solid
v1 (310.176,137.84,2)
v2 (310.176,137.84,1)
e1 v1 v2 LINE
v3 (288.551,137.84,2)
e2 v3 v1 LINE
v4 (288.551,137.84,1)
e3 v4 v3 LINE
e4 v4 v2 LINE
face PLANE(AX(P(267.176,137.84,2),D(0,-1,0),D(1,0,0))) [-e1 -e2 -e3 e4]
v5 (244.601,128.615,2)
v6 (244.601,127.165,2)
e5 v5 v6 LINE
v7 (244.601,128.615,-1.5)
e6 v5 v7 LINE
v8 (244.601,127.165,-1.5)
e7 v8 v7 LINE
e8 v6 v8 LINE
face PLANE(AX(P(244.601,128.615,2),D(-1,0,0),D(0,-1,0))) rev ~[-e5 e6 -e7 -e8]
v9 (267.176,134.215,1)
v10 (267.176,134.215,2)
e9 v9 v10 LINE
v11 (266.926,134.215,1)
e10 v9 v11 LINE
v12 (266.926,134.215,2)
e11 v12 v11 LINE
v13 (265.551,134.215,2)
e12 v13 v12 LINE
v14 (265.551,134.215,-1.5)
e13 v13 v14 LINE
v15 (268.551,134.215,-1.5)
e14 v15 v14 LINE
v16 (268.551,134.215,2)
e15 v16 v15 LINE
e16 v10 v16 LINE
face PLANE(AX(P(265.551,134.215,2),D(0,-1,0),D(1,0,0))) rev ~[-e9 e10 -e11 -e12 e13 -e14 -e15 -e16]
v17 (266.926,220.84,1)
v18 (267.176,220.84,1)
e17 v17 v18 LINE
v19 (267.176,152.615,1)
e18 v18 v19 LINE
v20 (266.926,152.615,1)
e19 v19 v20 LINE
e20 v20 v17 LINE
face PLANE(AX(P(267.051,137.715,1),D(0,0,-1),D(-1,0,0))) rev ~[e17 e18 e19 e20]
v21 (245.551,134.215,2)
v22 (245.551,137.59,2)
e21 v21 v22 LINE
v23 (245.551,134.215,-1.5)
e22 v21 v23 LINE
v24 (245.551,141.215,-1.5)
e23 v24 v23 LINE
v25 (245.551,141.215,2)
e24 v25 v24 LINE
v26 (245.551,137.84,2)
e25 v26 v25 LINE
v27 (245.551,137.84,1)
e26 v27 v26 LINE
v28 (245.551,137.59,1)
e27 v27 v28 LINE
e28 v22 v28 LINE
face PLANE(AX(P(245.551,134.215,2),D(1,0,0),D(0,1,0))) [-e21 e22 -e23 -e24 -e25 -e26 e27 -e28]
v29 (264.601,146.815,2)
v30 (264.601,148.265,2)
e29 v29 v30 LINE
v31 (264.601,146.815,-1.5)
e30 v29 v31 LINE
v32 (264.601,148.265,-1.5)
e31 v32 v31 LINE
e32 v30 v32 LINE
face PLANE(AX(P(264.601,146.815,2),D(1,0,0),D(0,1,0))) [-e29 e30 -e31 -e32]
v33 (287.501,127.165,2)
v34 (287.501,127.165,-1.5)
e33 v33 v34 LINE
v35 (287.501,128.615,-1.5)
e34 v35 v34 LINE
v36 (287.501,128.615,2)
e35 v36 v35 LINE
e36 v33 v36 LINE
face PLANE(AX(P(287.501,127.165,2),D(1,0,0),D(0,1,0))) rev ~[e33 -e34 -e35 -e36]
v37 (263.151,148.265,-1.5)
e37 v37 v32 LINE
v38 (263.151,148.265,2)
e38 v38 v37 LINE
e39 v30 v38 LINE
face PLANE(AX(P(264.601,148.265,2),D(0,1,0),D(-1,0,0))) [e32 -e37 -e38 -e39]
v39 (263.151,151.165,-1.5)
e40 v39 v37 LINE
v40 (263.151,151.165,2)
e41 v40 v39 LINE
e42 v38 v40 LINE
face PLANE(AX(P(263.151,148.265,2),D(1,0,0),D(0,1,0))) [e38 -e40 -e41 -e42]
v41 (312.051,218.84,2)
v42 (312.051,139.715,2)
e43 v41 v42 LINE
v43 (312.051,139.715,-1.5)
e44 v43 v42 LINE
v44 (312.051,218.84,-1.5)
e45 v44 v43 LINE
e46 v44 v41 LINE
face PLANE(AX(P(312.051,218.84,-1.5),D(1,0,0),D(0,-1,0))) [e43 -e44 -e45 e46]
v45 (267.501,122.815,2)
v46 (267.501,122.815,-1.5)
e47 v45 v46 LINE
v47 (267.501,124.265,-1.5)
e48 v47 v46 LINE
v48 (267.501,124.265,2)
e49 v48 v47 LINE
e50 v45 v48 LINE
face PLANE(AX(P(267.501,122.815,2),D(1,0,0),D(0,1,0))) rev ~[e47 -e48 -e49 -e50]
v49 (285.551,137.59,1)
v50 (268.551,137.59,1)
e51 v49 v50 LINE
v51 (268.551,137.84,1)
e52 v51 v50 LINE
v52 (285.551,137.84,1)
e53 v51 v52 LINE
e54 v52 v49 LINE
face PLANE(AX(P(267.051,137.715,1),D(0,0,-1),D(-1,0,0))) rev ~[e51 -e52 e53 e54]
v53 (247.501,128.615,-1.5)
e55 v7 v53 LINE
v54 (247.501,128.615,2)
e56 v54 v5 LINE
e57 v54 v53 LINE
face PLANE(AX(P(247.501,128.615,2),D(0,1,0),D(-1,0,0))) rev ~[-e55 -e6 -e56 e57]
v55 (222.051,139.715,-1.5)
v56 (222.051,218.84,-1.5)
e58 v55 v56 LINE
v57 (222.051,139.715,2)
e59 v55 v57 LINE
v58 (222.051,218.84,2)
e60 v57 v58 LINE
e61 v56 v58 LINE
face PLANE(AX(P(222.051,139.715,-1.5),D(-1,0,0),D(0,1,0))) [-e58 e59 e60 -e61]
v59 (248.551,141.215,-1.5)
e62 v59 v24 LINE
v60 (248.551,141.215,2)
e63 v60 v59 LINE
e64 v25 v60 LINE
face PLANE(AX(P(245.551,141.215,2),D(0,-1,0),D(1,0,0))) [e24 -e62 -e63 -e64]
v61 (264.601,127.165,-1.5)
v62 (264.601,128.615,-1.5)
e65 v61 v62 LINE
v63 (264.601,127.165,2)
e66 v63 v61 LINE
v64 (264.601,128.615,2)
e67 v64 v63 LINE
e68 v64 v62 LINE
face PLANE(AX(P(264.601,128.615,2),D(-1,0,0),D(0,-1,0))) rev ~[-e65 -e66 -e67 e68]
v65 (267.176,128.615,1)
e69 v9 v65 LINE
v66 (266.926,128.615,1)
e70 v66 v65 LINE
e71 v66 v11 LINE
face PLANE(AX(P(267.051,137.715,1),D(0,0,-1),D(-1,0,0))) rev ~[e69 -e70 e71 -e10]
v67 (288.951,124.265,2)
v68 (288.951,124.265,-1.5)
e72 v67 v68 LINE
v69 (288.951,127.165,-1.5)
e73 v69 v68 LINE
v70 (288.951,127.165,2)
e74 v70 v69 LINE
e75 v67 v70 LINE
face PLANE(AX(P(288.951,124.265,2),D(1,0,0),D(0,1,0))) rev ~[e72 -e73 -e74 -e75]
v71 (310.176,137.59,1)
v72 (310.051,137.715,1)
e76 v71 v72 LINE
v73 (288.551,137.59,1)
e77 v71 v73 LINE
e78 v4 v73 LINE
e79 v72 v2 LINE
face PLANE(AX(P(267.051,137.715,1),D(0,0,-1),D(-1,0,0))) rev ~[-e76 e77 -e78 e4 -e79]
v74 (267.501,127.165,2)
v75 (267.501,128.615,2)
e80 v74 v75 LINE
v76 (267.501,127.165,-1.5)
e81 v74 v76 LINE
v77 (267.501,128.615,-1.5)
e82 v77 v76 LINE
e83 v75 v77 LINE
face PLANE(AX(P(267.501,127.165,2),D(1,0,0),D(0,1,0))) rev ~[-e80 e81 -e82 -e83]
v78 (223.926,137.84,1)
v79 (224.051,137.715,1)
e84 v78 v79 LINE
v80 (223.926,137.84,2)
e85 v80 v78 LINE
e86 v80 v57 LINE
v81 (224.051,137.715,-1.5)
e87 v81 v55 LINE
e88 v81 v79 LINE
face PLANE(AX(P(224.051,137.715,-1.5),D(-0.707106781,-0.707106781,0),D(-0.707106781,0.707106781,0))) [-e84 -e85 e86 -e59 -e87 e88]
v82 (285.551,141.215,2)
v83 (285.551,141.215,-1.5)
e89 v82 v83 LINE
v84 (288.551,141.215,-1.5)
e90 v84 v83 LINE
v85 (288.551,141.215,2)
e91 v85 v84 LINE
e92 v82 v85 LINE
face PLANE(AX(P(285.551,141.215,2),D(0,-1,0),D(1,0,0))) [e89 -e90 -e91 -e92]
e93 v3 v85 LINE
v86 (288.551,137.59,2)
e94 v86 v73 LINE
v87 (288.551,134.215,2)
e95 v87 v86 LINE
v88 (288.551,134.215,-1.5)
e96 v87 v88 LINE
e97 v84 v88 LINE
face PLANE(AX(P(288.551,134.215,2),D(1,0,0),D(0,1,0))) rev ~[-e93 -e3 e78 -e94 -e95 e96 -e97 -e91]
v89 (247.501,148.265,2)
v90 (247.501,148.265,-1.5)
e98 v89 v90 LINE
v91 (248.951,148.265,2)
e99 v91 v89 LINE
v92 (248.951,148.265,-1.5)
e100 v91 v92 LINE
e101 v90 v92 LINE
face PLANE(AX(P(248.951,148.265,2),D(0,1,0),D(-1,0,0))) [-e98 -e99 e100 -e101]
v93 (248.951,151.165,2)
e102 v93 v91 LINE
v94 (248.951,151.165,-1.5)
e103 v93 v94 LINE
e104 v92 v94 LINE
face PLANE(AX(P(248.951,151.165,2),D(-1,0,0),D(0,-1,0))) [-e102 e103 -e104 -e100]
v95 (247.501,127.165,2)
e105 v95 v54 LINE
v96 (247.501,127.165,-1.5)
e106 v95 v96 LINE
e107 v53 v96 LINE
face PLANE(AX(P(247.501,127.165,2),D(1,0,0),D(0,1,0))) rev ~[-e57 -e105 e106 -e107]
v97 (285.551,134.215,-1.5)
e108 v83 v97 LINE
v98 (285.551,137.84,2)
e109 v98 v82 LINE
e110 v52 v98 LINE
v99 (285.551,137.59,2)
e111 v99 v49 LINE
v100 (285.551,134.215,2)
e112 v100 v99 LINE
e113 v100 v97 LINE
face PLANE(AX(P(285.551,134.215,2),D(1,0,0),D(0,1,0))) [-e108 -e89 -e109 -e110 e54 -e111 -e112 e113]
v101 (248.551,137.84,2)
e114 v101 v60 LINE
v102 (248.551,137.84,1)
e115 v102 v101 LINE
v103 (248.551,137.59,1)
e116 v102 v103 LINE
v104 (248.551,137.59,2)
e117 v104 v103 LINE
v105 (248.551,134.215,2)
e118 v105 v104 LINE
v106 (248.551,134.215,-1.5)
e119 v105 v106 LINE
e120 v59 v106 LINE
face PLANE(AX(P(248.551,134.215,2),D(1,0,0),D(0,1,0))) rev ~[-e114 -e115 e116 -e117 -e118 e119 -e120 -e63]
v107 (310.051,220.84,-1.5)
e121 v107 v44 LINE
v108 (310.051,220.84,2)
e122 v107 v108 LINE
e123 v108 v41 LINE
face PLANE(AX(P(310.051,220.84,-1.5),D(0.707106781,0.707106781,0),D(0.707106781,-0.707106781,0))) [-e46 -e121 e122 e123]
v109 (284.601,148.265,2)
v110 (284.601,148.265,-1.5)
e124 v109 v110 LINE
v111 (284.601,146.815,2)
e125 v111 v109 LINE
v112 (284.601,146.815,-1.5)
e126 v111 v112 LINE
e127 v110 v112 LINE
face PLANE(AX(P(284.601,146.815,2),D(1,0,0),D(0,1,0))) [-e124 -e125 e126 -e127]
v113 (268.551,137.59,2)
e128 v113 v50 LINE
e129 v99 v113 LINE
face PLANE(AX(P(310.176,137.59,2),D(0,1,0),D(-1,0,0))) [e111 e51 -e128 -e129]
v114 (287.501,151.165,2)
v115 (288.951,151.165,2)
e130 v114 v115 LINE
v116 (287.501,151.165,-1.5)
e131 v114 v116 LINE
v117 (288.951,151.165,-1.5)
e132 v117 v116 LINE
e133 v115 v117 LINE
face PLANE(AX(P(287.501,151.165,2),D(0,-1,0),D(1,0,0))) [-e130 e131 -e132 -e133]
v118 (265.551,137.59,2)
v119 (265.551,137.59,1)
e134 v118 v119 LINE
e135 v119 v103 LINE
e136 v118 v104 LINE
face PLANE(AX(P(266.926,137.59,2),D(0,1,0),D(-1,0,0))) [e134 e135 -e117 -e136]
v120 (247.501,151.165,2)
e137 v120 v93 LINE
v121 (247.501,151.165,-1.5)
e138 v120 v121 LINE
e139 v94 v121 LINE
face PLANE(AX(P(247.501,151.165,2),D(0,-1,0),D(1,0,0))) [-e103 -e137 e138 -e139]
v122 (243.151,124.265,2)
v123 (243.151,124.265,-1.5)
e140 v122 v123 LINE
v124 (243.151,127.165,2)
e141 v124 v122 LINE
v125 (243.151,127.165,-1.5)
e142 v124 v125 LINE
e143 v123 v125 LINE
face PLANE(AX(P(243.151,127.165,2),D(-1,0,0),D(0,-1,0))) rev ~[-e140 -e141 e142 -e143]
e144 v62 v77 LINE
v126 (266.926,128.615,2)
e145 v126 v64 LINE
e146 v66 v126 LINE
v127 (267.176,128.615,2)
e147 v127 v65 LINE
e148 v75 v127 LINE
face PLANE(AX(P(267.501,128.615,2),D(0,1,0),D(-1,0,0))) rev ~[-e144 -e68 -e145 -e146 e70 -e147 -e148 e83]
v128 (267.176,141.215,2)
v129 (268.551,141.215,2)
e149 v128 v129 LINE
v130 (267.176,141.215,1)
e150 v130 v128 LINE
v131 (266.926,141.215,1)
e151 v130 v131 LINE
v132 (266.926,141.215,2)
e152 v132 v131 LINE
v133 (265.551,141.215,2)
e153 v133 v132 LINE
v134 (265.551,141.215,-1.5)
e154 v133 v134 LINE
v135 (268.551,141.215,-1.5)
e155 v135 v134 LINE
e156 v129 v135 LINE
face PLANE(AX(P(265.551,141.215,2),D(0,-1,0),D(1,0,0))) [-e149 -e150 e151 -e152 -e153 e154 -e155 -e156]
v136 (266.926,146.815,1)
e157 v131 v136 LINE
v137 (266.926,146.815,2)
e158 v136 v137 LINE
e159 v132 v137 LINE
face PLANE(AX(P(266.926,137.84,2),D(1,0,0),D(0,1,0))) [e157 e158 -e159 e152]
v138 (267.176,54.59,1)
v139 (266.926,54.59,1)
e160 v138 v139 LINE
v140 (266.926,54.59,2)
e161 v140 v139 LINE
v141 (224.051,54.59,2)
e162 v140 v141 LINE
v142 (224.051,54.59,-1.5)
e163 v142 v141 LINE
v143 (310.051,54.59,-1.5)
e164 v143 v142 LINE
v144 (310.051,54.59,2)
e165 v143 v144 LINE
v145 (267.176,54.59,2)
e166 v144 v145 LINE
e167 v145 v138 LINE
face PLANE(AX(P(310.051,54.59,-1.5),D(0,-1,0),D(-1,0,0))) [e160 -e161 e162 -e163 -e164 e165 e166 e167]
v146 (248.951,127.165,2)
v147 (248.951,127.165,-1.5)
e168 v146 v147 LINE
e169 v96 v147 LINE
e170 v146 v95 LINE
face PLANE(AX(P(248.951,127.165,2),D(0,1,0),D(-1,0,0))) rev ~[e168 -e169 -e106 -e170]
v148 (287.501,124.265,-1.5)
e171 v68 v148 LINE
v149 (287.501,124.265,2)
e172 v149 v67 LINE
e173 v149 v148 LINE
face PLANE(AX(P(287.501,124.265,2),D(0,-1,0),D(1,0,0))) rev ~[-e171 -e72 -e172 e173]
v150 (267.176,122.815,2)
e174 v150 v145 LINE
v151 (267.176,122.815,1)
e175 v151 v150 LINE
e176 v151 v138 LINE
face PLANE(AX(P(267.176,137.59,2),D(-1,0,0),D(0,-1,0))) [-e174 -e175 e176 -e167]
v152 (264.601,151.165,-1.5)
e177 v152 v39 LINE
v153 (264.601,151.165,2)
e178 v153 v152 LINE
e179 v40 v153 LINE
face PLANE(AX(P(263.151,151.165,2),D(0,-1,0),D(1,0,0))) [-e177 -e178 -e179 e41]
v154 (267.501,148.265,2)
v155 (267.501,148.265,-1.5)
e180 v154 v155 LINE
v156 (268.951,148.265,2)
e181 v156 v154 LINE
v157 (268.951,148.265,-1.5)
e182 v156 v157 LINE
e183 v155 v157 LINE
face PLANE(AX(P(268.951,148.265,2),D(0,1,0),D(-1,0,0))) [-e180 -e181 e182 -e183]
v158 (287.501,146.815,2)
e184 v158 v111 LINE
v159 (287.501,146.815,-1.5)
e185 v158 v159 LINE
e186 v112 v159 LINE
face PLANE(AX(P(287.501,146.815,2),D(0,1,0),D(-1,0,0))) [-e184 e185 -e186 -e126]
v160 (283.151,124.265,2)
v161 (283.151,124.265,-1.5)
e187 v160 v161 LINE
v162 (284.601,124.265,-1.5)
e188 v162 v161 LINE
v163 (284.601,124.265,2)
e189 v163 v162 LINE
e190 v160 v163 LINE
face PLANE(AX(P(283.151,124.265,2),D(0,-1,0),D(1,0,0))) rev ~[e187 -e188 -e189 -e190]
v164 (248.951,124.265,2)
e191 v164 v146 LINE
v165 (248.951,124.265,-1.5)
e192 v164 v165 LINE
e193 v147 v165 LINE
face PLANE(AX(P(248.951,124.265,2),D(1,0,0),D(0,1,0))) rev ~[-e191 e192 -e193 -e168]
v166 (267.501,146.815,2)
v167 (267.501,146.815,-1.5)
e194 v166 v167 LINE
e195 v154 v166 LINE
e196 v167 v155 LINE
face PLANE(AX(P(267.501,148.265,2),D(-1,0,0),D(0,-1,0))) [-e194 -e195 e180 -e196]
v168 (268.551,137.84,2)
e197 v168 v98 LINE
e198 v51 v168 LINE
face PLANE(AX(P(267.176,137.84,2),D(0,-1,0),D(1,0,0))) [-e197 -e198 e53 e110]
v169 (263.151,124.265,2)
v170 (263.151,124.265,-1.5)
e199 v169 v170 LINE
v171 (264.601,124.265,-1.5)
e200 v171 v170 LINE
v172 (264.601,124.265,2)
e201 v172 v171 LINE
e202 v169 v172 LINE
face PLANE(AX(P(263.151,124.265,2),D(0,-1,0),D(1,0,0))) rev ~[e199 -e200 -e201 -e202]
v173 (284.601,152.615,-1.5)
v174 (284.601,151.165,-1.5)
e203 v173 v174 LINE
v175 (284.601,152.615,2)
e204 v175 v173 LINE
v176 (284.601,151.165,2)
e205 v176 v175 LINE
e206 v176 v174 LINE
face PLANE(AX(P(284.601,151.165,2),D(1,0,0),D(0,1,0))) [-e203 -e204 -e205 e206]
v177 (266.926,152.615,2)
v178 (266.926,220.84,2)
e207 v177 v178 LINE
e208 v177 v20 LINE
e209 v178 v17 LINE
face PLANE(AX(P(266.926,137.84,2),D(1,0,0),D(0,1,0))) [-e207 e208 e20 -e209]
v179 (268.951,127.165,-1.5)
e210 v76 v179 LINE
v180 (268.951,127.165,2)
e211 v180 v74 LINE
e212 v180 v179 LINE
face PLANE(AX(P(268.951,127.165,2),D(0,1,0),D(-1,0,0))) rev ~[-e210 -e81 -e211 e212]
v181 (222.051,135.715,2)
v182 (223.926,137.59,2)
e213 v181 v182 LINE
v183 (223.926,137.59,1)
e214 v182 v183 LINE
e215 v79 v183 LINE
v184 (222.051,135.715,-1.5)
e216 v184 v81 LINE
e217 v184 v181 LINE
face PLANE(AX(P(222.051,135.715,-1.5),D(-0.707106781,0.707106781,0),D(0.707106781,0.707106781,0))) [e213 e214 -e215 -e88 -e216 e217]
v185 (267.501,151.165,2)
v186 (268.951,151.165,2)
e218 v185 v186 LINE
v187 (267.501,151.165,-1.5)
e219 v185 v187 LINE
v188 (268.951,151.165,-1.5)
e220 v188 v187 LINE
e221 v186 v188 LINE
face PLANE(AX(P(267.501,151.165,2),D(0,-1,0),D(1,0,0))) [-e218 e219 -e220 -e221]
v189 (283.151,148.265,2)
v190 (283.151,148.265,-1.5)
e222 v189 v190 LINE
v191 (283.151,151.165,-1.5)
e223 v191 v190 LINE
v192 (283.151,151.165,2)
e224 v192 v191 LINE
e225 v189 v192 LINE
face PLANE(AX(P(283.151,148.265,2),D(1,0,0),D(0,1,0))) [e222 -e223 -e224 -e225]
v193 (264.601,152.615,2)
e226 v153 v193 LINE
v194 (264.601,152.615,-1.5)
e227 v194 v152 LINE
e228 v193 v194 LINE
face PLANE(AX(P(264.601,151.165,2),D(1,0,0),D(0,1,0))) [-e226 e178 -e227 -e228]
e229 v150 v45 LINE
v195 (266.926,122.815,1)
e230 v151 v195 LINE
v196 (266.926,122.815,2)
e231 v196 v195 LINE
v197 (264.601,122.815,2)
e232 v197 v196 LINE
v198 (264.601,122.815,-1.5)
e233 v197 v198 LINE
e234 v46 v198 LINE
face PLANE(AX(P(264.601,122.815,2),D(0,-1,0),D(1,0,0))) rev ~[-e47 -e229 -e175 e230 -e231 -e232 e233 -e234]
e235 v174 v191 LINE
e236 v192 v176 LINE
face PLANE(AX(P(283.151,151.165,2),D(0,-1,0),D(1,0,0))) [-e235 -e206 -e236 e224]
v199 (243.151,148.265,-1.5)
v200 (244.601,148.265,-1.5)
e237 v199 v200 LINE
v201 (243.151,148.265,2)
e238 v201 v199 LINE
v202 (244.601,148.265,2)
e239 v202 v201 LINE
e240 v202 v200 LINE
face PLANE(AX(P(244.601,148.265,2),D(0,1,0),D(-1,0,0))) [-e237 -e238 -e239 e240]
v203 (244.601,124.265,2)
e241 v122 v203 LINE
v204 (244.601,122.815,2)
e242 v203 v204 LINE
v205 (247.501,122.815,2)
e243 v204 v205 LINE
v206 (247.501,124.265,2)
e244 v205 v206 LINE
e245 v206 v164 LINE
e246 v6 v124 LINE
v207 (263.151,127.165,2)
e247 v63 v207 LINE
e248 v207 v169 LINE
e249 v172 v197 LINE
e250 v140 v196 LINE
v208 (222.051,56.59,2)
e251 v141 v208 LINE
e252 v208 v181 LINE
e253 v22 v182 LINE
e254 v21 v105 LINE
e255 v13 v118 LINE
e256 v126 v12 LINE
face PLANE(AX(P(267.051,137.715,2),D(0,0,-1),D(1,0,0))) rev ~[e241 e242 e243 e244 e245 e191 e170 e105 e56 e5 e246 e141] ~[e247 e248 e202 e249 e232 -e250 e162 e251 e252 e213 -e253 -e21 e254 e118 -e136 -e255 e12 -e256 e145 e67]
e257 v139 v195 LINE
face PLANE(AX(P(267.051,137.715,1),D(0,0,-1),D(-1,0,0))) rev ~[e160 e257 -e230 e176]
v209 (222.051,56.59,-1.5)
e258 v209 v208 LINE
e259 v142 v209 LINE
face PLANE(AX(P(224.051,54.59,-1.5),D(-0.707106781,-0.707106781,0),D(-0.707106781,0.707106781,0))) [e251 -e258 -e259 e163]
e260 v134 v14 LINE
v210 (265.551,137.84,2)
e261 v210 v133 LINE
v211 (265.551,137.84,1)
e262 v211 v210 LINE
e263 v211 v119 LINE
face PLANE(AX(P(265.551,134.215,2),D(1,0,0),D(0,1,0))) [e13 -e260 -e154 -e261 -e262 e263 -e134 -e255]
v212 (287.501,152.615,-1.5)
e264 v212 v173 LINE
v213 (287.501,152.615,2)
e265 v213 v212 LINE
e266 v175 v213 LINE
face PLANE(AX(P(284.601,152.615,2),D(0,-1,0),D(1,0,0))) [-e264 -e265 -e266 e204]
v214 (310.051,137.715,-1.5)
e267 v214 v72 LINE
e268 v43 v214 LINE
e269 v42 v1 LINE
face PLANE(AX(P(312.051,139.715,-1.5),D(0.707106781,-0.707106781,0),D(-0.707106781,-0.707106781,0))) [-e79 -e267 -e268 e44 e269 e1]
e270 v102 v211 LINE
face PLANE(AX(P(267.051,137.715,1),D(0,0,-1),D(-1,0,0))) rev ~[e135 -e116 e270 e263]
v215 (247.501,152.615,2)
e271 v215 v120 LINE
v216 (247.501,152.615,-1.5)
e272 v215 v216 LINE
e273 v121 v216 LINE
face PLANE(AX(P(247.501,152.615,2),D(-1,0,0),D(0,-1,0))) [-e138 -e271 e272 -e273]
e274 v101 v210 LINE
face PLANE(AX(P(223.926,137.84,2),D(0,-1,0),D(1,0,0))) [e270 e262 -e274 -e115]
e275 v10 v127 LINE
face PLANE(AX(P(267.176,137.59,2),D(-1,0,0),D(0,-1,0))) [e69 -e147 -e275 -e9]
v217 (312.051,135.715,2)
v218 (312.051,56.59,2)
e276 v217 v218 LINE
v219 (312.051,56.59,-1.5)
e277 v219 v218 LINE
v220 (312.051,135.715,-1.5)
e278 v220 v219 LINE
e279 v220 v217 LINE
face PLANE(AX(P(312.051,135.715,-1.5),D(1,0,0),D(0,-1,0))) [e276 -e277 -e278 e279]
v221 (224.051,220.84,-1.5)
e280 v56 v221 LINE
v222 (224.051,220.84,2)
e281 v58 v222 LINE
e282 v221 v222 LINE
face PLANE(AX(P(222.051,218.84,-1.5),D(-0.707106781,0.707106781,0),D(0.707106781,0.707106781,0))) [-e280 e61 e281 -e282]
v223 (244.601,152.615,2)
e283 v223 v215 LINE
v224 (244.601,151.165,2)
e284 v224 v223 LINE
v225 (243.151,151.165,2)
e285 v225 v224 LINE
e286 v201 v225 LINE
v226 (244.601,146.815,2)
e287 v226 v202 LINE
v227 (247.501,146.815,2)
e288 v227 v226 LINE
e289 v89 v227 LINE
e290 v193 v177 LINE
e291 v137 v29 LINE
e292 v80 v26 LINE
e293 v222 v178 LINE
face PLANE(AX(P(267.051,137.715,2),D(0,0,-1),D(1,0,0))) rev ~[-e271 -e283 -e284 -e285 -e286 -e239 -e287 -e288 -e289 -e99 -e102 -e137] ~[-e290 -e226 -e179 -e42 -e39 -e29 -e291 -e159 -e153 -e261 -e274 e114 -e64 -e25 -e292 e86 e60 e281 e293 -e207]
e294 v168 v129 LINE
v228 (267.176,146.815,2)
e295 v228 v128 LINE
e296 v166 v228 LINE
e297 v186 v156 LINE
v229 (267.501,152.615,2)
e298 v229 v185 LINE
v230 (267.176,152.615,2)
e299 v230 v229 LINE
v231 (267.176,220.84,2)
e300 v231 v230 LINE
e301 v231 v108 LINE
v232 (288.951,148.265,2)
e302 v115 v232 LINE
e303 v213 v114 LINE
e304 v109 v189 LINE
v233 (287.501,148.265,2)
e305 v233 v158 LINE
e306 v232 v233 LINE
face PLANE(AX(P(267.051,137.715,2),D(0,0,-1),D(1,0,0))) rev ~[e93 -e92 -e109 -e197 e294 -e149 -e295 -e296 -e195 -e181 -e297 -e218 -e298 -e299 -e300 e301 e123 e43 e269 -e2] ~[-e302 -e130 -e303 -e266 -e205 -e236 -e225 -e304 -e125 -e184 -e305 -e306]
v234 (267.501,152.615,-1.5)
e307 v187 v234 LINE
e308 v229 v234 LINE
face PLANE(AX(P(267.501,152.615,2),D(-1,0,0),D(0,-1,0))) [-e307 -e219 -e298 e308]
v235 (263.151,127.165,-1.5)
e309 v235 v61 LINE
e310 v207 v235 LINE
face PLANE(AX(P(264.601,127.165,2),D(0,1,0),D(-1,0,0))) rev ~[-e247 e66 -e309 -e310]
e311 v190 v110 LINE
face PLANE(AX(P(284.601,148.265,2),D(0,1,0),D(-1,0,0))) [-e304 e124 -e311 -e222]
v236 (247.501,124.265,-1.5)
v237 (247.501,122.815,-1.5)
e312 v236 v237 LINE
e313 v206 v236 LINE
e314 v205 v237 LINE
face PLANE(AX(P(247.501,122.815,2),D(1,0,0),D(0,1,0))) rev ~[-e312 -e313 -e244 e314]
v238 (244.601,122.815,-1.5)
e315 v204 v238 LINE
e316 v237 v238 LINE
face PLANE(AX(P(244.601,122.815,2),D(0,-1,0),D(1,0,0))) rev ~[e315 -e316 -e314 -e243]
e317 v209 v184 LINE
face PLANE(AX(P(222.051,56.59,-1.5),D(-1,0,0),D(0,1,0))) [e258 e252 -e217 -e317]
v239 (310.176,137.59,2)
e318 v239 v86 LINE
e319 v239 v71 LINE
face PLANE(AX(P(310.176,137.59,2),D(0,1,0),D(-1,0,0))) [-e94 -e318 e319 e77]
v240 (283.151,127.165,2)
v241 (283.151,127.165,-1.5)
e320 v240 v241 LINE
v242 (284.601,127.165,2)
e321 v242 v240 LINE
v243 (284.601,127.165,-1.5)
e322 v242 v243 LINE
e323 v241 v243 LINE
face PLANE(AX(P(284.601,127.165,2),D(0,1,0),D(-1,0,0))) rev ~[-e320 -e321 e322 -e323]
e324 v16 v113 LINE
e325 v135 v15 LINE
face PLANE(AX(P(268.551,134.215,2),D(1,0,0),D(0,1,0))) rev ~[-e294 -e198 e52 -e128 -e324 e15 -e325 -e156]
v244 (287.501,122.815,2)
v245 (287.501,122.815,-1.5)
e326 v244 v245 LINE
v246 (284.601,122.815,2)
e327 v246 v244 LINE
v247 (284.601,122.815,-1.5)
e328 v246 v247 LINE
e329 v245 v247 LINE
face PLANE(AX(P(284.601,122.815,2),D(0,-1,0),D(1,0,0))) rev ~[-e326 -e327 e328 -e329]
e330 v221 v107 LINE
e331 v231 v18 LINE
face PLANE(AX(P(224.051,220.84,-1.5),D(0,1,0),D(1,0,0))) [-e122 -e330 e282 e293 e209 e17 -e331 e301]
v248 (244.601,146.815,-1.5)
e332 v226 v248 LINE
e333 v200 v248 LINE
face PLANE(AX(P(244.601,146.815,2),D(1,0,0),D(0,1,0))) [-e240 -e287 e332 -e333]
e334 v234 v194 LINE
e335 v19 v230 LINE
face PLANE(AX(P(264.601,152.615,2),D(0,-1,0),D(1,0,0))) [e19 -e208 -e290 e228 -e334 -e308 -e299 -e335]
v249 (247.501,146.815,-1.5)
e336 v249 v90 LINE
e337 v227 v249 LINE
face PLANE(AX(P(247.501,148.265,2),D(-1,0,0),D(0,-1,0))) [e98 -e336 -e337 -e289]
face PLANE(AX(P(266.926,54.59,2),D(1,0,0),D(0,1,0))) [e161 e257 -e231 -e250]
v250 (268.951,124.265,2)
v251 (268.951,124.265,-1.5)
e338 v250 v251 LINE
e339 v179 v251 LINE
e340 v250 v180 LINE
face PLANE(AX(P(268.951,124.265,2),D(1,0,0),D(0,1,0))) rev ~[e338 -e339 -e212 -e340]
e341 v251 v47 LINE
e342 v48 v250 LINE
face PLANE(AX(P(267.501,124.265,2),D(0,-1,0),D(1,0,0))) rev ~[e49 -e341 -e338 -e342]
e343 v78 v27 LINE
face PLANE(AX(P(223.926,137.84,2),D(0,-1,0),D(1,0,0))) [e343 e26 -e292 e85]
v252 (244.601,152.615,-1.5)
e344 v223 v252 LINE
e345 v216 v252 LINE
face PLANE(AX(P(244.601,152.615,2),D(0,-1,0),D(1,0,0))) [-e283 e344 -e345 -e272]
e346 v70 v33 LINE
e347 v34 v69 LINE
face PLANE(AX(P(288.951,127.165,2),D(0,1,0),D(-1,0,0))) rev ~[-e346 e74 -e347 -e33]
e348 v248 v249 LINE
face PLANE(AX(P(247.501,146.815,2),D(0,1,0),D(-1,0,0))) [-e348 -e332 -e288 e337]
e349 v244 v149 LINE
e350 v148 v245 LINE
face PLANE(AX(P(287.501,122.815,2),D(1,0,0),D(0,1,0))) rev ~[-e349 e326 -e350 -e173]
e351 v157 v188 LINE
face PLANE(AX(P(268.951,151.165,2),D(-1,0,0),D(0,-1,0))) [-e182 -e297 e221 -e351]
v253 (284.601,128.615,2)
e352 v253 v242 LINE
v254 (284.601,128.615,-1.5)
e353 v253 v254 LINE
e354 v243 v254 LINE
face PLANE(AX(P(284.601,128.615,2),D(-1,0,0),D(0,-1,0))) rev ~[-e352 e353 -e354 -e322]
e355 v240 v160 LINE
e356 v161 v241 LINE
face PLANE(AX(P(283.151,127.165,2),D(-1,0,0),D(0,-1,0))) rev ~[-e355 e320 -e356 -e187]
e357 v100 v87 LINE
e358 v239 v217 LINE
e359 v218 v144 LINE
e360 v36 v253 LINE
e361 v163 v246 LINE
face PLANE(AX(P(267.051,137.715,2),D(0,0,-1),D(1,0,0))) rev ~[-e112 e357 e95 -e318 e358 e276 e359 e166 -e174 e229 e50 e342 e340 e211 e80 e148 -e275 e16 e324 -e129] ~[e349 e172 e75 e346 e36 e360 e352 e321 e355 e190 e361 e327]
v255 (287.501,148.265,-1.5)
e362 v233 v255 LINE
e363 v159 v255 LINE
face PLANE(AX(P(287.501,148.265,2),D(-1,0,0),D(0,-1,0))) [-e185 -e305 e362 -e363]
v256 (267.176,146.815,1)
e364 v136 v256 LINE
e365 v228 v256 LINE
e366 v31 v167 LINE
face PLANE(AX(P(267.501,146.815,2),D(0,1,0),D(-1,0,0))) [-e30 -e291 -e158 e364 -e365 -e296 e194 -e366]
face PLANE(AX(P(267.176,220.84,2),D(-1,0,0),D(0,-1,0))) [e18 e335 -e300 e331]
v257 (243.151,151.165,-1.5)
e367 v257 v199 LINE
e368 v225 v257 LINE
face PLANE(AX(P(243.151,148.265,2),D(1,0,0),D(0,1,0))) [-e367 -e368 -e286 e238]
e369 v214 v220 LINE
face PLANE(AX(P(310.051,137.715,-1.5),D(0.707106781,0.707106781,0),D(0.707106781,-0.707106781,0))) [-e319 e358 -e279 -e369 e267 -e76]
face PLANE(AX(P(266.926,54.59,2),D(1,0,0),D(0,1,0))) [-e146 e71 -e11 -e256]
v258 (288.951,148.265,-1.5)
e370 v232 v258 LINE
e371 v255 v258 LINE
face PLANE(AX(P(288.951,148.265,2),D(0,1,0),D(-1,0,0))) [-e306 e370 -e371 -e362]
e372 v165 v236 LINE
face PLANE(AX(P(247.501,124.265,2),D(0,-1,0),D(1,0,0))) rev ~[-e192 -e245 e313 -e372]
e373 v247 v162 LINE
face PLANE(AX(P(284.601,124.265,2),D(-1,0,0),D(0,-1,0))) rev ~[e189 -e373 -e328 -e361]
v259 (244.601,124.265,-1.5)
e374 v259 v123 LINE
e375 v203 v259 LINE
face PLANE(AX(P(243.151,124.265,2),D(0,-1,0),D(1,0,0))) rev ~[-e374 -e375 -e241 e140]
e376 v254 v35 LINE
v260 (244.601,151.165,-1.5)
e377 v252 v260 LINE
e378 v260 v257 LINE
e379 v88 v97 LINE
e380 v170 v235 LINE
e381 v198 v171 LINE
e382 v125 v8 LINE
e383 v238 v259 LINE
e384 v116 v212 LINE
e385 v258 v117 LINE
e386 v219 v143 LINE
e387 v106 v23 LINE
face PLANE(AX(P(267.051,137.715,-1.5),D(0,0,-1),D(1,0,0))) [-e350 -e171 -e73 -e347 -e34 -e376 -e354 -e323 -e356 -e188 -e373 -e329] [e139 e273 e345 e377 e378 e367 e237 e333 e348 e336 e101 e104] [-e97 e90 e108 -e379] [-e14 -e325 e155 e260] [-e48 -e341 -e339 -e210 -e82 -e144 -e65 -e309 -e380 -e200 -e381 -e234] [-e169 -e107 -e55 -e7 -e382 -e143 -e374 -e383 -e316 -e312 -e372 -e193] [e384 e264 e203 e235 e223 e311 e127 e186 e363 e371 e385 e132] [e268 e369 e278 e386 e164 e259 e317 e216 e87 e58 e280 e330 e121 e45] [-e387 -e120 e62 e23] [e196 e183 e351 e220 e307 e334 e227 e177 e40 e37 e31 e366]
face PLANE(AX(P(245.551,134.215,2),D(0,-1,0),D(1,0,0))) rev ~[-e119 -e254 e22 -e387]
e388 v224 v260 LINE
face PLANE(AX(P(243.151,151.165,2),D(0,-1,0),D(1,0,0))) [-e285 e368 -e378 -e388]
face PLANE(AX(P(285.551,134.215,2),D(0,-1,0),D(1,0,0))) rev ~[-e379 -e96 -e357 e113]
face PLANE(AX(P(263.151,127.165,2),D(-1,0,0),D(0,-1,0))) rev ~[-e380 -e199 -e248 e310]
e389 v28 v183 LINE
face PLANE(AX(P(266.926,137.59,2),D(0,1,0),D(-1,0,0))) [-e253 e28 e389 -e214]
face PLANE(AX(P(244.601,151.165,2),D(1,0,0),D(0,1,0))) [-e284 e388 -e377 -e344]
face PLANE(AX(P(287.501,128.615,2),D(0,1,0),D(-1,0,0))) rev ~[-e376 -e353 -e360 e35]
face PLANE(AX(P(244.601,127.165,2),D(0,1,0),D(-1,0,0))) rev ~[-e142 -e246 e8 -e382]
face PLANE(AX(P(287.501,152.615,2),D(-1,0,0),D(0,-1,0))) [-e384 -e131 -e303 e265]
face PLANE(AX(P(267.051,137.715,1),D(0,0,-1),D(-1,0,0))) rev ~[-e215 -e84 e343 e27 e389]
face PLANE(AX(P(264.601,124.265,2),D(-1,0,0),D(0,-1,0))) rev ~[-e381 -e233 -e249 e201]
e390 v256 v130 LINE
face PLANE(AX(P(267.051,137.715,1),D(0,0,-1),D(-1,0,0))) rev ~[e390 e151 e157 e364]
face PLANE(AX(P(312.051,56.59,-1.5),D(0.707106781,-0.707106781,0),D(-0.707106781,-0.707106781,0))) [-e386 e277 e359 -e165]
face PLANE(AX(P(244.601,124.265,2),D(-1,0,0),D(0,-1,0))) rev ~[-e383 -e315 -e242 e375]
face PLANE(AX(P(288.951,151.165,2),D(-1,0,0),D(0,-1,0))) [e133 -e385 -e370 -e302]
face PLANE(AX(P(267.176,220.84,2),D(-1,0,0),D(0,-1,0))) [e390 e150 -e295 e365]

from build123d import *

# Parameters (mm, degrees)
PAD011_DEPTH           = 3.5
POCKET_DEPTH           = 1
SKETCH_W               = 3
SKETCH_H               = 7
POCKET024_DEPTH        = 3.501
LINEARPATTERN001_COUNT = 3
LINEARPATTERN001_PITCH = 20


with BuildPart() as part:
    # Sketch030 (on Face1 of Binder) → Pad011 (new body)
    with BuildSketch(Plane(origin=(0, 0, -1.5), x_dir=(1, 0, 0), z_dir=(0, 0, -1))):
        Polygon((17.648, -218.84), (19.648, -220.84), (105.648, -220.84), (107.648, -218.84), (107.648, -139.715), (105.648, -137.715), (107.648, -135.715), (107.648, -56.59), (105.648, -54.59), (19.648, -54.59), (17.648, -56.59), (17.648, -135.715), (19.648, -137.715), (17.648, -139.715), align=None)
    extrude(amount=-PAD011_DEPTH)

    # Sketch034 (on Face4 of Pad011) → Pocket (cut)
    with BuildSketch(Plane.XY.offset(2)):
        Polygon((19.523, 137.84), (62.523, 137.84), (62.523, 220.84), (62.773, 220.84), (62.773, 137.84), (105.773, 137.84), (105.773, 137.59), (62.773, 137.59), (62.773, 54.59), (62.523, 54.59), (62.523, 137.59), (19.523, 137.59), align=None)
    extrude(amount=-POCKET_DEPTH, mode=Mode.SUBTRACT)

    # Sketch (on Face4 of Clone001) → Pocket024 (cut, through all)
    with BuildSketch(Plane.XY.offset(2)):
        with Locations((42.648, 137.715)):
            Rectangle(SKETCH_W, SKETCH_H)
        Polygon((40.198, 152.615), (43.098, 152.615), (43.098, 151.165), (44.548, 151.165), (44.548, 148.265), (43.098, 148.265), (43.098, 146.815), (40.198, 146.815), (40.198, 148.265), (38.748, 148.265), (38.748, 151.165), (40.198, 151.165), align=None)
        Polygon((40.198, 122.815), (43.098, 122.815), (43.098, 124.265), (44.548, 124.265), (44.548, 127.165), (43.098, 127.165), (43.098, 128.615), (40.198, 128.615), (40.198, 127.165), (38.748, 127.165), (38.748, 124.265), (40.198, 124.265), align=None)
    pocket024 = extrude(amount=-POCKET024_DEPTH, mode=Mode.SUBTRACT)

    # LinearPattern001: Pocket024 ×3
    with Locations(*[(i * LINEARPATTERN001_PITCH, 0, 0) for i in range(1, LINEARPATTERN001_COUNT)]):
        add(pocket024, mode=Mode.SUBTRACT)


with BuildPart() as part_1:
    # Body010 placement: moved
    add(part.part.moved(Location((204.403, 0, 0))))


solid = part_1.part
